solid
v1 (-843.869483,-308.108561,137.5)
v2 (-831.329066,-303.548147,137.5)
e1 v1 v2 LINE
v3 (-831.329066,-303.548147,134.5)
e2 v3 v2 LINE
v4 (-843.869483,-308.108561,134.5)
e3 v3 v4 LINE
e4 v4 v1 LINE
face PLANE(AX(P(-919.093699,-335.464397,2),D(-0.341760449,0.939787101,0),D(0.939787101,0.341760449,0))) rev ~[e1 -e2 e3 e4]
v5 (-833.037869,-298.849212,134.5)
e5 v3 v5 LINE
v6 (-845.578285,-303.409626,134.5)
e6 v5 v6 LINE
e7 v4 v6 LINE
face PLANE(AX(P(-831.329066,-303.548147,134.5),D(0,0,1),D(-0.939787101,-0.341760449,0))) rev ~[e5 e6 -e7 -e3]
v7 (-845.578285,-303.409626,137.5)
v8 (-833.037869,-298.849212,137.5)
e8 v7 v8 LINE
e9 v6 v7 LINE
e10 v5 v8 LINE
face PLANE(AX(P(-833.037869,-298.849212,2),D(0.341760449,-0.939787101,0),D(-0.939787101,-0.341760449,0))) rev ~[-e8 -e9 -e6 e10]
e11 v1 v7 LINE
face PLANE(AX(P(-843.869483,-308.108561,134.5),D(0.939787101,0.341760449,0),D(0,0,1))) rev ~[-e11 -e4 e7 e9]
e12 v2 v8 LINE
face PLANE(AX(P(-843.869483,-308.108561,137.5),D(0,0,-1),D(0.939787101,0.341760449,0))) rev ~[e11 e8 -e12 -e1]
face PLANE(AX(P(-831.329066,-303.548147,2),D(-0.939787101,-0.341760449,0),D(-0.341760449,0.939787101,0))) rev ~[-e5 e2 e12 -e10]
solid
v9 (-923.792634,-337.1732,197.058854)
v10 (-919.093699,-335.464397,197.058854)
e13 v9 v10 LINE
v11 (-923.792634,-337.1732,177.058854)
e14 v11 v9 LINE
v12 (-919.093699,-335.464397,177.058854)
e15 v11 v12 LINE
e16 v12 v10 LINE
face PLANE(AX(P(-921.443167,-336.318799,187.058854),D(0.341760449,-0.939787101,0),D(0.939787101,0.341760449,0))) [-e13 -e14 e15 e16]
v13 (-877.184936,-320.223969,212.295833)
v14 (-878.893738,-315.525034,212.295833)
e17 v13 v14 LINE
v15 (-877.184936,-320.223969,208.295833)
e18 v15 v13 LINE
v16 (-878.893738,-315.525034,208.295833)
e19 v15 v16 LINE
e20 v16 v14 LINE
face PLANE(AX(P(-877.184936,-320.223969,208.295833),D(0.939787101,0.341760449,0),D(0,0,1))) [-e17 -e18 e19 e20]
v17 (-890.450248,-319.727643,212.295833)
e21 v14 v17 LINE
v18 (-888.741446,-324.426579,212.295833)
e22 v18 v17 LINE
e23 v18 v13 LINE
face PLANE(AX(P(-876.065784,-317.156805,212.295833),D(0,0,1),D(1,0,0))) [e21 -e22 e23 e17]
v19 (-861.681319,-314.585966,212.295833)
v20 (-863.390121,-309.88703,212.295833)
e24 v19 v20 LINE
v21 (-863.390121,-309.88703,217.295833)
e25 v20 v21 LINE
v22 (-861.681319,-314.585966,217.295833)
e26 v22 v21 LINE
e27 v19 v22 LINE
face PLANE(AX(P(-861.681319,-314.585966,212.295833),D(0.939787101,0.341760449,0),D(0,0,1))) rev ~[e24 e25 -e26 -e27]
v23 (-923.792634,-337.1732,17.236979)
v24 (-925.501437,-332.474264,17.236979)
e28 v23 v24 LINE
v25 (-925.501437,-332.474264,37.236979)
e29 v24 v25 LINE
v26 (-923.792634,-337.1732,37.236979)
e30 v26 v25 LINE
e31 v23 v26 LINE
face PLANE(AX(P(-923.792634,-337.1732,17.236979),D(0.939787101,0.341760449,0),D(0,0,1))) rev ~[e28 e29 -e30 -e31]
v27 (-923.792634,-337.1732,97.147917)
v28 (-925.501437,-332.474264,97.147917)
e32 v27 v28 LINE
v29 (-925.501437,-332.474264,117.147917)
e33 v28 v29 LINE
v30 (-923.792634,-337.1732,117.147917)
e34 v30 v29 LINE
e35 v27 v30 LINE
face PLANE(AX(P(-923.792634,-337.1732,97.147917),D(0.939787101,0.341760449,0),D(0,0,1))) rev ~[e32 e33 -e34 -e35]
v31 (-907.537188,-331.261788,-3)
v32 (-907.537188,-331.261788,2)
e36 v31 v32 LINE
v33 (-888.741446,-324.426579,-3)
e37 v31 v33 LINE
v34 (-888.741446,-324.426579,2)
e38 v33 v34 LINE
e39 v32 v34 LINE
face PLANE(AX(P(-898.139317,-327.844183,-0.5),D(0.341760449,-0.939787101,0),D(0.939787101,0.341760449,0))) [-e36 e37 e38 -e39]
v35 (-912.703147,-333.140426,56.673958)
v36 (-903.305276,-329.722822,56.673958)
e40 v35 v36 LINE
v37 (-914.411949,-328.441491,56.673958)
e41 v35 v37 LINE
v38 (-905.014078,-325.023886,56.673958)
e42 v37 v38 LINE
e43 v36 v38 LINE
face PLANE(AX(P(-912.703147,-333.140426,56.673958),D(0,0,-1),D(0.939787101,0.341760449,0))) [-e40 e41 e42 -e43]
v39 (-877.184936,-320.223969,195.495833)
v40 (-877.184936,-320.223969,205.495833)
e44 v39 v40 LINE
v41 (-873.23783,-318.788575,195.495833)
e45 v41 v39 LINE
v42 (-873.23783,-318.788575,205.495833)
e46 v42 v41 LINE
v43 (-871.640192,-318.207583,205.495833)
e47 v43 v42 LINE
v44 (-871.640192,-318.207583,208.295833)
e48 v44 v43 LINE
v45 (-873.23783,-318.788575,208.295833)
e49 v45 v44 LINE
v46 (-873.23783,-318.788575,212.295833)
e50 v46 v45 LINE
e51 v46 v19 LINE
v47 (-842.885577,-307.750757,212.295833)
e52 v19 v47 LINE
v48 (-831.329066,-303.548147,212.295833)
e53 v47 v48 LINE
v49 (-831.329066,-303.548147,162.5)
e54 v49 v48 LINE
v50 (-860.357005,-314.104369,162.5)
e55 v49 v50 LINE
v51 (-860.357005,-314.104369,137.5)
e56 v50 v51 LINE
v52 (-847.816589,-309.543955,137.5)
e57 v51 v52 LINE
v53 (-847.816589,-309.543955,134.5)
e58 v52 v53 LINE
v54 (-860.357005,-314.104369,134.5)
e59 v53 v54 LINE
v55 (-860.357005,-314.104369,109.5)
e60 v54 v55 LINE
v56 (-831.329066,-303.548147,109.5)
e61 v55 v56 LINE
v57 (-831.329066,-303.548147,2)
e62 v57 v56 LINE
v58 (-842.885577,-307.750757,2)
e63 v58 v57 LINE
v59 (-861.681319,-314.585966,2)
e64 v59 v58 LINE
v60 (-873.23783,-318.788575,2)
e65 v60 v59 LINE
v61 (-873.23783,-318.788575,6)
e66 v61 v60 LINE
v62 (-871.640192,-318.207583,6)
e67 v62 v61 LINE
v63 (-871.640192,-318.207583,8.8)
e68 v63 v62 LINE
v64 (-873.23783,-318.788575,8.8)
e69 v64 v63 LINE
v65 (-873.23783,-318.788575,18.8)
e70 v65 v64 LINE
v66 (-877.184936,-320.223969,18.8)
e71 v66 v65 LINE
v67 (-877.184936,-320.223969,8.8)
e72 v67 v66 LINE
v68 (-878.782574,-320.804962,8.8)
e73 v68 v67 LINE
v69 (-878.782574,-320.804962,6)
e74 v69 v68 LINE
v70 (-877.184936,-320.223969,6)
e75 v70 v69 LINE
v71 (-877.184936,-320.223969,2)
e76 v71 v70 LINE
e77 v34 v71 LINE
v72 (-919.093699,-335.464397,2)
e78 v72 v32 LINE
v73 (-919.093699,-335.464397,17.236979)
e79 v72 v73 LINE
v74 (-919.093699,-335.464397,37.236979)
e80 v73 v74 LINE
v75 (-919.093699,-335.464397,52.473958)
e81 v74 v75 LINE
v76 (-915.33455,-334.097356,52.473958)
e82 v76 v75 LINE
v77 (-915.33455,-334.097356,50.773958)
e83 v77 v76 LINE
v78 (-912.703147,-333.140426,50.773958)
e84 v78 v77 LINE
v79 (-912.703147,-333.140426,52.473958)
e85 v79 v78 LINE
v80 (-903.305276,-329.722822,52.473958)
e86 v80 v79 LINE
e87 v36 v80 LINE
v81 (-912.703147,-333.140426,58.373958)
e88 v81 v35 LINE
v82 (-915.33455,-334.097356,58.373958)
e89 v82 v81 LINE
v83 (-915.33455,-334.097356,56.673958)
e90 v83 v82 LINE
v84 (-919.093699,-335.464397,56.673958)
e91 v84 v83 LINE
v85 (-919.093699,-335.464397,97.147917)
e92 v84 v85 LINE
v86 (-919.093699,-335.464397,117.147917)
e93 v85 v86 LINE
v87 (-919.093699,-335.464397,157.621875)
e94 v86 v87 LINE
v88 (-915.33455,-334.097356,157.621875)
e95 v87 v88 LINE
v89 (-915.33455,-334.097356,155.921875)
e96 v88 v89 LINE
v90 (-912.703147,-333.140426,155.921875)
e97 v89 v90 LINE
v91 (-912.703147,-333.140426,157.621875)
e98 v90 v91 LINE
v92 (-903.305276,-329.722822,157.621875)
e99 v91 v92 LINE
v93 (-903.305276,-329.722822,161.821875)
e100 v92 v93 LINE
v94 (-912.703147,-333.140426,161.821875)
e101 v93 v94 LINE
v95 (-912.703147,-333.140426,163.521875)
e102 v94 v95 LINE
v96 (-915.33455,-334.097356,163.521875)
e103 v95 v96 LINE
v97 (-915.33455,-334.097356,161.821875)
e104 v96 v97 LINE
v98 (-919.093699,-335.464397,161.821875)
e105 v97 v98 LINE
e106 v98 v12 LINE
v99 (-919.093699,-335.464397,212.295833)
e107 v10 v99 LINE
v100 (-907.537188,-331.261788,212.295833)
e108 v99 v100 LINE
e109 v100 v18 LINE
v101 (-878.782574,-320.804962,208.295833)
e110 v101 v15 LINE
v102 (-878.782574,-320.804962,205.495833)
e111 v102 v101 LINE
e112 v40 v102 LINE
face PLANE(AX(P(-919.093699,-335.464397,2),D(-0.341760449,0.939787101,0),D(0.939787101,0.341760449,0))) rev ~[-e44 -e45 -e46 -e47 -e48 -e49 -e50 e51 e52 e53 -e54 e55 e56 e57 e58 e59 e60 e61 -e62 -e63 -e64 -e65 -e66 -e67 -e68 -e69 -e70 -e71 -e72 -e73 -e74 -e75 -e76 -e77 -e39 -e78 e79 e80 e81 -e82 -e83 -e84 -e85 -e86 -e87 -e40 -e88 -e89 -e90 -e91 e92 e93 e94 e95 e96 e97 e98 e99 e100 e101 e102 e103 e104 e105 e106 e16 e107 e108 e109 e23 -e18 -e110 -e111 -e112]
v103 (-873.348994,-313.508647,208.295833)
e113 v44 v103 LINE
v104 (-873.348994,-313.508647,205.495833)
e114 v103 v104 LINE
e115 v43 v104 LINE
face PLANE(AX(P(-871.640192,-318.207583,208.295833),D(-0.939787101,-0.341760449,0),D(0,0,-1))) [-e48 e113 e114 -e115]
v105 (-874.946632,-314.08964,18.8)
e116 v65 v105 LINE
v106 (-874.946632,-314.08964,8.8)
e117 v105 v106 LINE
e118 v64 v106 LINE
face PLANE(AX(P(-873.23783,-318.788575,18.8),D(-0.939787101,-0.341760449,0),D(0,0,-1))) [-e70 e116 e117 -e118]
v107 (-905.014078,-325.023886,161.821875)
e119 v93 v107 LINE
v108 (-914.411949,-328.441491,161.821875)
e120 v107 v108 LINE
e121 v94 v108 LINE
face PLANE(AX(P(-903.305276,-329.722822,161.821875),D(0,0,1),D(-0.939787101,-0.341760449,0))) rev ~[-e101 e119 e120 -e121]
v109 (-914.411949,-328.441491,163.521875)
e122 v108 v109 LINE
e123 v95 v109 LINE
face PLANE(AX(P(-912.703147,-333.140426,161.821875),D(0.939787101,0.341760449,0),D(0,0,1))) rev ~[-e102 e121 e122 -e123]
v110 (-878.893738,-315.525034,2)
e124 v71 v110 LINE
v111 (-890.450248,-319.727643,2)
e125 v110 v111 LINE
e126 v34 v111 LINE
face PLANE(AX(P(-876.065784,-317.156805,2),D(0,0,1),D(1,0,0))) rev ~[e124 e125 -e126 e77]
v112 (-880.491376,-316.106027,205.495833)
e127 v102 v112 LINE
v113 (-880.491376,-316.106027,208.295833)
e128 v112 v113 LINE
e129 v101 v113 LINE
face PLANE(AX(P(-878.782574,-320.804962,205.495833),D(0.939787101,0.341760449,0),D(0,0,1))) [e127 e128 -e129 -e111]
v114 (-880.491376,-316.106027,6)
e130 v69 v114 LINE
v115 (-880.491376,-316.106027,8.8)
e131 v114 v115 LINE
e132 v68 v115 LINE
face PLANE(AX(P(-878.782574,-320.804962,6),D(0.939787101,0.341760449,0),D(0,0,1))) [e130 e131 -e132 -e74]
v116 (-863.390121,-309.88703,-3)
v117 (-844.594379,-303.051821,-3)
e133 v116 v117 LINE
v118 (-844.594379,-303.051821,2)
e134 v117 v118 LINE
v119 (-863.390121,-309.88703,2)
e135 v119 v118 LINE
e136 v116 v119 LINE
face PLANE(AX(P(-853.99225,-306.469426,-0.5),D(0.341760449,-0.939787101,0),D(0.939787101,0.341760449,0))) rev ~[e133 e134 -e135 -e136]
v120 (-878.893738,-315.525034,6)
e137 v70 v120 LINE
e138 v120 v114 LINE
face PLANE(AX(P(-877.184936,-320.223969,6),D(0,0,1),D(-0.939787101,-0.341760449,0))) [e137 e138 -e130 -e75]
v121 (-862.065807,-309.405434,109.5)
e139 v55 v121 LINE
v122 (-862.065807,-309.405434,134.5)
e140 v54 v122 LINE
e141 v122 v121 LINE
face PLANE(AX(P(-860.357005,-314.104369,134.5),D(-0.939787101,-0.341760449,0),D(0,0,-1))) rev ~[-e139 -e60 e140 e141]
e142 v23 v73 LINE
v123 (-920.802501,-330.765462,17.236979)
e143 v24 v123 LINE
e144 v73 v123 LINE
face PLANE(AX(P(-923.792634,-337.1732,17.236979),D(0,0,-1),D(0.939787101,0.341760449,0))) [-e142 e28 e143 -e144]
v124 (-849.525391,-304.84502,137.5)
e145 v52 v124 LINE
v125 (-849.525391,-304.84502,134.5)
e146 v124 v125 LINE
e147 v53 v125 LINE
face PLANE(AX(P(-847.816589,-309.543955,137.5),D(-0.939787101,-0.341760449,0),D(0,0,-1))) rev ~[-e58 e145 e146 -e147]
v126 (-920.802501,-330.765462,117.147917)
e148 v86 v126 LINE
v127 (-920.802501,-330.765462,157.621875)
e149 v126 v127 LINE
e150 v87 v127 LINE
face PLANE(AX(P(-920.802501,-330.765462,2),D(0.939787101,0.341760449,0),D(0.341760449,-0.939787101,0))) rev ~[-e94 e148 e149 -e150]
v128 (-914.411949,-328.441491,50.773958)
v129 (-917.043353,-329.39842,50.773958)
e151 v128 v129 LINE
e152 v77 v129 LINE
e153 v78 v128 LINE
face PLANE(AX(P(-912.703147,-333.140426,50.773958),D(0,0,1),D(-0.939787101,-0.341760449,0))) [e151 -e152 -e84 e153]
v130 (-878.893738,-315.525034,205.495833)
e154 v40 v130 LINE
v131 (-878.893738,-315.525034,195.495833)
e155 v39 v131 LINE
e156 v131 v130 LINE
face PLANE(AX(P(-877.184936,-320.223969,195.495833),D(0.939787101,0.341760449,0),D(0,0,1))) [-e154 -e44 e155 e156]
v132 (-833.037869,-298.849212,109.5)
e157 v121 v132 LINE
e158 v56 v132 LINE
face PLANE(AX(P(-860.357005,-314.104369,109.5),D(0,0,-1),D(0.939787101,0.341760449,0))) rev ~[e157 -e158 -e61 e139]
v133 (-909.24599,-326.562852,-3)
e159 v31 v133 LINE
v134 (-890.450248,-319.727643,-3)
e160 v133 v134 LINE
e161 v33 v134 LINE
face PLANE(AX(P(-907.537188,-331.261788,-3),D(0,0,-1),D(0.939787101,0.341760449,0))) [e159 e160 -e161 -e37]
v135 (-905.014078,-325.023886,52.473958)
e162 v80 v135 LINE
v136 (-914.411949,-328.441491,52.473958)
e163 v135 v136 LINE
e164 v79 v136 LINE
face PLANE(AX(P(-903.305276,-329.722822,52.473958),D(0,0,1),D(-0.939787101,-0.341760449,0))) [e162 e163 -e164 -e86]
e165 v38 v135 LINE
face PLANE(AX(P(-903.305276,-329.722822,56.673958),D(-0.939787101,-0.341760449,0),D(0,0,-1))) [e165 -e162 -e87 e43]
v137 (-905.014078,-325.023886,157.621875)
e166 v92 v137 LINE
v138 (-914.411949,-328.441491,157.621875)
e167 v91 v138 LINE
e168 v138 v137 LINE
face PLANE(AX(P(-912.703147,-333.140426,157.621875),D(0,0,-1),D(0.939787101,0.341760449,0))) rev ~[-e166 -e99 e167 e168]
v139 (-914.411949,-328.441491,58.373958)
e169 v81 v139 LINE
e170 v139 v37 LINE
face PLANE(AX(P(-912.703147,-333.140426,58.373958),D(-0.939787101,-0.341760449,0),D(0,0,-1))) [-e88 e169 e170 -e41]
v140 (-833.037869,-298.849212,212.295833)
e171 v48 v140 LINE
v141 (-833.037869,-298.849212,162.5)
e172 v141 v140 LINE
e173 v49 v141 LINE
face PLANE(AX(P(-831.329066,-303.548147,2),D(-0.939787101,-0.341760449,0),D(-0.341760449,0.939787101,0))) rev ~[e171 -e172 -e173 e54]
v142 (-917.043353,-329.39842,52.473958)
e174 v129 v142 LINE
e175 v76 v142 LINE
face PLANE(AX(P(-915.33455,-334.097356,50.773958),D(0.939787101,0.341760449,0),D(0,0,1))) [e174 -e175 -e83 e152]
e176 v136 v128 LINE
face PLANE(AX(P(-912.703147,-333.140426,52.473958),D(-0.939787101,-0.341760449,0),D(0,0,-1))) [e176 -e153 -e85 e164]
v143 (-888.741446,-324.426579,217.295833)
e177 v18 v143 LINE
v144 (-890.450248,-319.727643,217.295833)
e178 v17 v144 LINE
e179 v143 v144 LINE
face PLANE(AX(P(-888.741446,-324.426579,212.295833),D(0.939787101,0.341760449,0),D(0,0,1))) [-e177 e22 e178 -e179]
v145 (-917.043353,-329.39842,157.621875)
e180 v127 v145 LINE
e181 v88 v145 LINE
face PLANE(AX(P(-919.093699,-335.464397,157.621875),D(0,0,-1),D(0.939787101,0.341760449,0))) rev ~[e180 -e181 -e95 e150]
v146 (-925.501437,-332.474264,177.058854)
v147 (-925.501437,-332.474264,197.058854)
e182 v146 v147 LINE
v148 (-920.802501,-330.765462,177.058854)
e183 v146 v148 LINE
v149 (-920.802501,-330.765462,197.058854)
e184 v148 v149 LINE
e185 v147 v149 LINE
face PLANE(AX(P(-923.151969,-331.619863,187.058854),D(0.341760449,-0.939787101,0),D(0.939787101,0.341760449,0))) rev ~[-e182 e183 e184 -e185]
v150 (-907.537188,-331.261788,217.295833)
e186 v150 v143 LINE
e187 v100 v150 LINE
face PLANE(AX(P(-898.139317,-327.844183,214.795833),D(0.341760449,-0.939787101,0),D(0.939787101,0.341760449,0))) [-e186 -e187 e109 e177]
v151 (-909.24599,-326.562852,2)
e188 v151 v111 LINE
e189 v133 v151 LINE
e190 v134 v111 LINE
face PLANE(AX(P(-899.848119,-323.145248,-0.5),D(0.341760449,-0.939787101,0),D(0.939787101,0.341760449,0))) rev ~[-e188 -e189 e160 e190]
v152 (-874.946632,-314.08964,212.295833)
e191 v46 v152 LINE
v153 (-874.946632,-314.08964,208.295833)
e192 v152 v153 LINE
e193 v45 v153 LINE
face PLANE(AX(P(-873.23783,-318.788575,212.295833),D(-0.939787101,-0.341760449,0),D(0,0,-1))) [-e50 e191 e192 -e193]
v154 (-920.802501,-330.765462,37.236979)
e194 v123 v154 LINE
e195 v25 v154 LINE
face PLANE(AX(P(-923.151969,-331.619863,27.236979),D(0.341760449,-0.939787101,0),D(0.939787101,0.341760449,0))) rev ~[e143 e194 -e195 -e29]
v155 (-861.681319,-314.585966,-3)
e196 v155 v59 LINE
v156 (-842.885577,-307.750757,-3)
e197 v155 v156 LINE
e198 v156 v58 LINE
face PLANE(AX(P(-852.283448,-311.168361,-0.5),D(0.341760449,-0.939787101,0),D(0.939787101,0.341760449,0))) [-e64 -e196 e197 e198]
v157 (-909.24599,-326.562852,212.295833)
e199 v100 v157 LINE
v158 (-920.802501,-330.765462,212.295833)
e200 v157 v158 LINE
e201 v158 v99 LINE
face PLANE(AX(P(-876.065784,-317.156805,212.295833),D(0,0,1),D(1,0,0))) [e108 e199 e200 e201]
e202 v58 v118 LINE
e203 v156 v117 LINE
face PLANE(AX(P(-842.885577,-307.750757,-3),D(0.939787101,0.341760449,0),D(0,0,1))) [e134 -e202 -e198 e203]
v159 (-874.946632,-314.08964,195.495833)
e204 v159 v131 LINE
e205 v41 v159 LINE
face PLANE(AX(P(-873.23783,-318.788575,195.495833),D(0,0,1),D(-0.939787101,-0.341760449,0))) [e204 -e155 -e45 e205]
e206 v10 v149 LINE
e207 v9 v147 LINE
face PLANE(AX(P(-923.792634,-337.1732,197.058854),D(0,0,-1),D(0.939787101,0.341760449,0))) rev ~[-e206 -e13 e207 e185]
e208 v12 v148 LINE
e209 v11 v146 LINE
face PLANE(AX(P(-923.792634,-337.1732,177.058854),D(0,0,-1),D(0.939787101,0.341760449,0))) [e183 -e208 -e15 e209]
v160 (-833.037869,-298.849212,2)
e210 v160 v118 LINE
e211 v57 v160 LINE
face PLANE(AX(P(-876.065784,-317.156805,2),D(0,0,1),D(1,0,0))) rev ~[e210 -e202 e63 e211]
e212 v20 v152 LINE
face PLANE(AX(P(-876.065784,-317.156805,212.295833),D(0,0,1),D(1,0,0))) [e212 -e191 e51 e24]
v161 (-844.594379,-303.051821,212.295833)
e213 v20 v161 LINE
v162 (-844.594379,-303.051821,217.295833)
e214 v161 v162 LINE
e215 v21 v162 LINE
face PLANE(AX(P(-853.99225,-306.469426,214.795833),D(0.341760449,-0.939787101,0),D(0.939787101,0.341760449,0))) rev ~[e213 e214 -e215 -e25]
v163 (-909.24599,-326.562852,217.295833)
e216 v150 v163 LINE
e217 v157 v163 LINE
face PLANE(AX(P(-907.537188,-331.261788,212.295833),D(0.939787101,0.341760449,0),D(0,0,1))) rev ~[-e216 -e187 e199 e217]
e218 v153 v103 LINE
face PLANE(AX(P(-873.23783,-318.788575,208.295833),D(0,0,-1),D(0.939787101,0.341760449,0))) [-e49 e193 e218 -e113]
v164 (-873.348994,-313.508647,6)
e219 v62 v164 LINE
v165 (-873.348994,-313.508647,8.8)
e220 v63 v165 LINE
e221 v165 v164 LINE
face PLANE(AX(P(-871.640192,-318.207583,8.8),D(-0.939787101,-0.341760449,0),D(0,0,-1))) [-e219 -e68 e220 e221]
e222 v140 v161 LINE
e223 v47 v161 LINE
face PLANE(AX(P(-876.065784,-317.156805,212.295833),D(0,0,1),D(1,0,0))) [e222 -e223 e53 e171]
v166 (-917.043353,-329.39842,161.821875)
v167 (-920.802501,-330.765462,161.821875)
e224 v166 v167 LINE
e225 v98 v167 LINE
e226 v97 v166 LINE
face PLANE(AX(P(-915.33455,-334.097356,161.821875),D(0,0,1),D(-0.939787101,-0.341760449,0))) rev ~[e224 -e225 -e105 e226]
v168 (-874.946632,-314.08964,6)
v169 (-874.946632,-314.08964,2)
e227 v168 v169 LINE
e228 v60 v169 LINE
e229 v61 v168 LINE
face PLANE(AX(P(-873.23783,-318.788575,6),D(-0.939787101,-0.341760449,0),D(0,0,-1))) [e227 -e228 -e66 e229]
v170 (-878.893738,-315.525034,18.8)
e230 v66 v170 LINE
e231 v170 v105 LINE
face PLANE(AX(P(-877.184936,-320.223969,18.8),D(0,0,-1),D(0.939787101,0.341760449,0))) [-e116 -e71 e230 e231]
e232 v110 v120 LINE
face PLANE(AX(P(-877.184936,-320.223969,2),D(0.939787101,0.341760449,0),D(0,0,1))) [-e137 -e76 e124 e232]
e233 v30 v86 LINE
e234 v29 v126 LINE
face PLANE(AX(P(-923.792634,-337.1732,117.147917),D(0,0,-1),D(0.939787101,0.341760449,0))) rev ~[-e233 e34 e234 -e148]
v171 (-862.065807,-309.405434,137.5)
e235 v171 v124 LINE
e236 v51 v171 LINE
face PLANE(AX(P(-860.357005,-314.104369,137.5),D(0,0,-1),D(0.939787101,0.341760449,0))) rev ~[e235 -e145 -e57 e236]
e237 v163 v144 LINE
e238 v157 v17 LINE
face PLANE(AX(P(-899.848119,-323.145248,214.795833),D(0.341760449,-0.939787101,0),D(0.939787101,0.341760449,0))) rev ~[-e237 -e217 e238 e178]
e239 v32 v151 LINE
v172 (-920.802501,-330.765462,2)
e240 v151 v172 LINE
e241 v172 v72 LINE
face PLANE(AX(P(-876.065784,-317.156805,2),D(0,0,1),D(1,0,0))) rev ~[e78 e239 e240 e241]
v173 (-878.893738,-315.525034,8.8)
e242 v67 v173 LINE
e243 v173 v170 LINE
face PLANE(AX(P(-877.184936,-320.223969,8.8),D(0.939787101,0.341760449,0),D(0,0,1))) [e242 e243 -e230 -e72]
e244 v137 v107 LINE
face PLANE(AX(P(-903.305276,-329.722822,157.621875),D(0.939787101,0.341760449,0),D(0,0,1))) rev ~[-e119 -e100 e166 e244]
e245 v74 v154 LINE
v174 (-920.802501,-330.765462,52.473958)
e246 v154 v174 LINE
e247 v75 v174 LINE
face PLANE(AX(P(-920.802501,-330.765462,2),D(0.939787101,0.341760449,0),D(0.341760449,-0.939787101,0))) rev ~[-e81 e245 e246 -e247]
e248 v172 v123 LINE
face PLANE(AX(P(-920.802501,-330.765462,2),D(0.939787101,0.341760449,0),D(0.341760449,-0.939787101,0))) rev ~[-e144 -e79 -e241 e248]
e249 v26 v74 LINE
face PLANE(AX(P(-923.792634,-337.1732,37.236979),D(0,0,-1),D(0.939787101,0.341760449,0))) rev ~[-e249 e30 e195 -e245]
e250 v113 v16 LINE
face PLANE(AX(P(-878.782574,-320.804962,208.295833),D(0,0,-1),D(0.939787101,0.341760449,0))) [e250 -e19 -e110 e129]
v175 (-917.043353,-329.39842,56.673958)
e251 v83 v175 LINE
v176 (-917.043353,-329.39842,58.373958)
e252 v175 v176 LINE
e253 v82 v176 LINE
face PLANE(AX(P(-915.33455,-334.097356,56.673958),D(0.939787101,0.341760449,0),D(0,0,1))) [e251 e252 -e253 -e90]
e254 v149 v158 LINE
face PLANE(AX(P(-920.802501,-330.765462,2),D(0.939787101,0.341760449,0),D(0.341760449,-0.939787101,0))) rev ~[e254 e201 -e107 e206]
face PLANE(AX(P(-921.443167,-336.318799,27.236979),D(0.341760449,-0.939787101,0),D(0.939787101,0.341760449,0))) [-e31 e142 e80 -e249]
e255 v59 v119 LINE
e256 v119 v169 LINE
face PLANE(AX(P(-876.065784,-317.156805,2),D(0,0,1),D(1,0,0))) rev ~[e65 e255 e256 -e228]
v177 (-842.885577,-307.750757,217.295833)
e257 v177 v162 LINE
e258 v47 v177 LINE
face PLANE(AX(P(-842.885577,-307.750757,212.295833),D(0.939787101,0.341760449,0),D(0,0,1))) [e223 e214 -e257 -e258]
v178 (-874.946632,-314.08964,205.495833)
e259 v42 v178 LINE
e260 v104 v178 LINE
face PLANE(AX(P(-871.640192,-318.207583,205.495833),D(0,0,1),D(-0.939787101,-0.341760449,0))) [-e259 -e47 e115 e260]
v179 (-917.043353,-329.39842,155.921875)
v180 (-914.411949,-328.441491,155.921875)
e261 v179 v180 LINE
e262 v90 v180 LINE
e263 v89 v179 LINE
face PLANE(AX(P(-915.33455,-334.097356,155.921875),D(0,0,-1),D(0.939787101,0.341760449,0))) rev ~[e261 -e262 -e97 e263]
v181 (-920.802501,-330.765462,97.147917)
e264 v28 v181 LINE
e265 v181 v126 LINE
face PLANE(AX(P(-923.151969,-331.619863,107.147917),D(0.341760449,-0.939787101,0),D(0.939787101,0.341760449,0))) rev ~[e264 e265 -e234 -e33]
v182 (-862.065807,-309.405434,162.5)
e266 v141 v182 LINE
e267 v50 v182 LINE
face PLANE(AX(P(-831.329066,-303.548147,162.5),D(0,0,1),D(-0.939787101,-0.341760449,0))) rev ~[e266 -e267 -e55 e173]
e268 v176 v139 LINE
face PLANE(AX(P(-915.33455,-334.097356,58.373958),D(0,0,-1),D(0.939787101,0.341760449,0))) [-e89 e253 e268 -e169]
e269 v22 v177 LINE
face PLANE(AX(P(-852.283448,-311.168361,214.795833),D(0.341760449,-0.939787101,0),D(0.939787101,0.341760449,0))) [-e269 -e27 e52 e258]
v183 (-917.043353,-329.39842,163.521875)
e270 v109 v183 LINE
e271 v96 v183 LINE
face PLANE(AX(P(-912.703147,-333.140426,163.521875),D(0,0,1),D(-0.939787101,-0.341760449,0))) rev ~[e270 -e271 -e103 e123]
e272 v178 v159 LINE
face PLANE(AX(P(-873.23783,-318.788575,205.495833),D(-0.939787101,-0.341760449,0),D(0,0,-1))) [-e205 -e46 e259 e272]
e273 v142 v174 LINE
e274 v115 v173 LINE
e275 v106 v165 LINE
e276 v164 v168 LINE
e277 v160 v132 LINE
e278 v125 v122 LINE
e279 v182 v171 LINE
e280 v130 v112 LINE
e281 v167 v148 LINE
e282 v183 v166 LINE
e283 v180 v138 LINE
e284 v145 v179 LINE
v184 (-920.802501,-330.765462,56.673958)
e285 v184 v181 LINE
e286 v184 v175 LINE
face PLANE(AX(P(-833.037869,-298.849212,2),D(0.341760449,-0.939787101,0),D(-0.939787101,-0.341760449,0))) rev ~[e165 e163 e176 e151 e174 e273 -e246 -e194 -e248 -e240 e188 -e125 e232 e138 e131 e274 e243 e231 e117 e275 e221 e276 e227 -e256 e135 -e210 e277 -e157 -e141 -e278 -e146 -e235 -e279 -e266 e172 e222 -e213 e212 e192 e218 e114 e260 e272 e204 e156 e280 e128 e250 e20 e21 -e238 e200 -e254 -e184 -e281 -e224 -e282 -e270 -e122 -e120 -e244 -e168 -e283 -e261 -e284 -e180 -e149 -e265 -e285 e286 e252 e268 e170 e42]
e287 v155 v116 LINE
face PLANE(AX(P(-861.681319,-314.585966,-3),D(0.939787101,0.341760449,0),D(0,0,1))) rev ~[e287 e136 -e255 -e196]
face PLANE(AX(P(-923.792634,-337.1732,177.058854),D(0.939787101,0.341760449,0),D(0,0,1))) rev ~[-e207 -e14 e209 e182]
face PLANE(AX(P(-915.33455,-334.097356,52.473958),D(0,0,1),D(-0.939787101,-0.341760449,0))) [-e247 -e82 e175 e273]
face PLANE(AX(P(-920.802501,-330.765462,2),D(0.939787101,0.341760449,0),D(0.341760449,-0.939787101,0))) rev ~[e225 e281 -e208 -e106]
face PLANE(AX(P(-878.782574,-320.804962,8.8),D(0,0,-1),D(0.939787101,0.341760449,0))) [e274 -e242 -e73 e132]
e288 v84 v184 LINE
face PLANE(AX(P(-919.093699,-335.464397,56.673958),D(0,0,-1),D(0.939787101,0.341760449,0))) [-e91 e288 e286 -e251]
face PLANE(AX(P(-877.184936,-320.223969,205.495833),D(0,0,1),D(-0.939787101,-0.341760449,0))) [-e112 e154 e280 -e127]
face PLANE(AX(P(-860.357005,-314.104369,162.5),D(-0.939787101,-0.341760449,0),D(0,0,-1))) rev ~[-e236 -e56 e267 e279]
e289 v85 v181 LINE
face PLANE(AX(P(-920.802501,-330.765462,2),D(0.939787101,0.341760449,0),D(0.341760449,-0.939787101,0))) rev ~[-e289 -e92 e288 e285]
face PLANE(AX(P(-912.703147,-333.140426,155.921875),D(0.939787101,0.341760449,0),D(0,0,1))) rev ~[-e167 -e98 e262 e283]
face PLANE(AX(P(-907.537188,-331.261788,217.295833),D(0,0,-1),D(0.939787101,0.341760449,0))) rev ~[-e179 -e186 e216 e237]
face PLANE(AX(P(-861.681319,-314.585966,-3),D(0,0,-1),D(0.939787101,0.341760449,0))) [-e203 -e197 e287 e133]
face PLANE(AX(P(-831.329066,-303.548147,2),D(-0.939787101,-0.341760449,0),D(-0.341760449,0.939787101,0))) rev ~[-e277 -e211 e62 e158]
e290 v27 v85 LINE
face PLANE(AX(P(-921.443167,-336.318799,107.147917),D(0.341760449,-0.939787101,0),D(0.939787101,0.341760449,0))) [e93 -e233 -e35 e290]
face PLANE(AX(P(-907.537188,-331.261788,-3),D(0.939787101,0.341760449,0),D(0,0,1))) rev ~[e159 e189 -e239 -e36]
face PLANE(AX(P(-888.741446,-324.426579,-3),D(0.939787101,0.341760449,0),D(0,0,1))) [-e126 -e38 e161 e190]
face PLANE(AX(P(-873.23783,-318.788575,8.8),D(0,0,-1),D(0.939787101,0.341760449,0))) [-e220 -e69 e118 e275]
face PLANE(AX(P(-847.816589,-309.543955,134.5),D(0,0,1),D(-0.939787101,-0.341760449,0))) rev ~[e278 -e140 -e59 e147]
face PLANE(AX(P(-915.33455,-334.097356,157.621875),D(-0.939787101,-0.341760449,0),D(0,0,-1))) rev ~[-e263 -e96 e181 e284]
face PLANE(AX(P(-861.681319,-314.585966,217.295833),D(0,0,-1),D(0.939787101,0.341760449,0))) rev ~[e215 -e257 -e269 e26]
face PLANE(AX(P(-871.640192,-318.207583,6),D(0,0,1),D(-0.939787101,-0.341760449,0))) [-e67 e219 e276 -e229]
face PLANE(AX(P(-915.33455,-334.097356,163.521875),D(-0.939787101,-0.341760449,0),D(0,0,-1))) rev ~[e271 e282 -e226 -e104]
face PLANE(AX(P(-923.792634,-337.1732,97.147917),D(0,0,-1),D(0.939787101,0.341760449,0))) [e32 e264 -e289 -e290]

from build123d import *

# Parameters (mm, degrees)
BOSS_EXTRUDE1_DEPTH = 210.295833
CUT_EXTRUDE3_DEPTH  = 35.994480169
SKETCH5_W           = 20
SKETCH5_H           = 5
SKETCH5_W_2         = 5
SKETCH5_H_2         = 20
BOSS_EXTRUDE2_DEPTH = 5


with BuildPart() as part:
    # Sketch2 → Boss-Extrude1 (new body)
    with BuildSketch(Plane.XY.offset(2)):
        Polygon((-920.802501065, -330.765461908), (-919.09369882, -335.464397413), (-831.329066449, -303.548147303), (-833.037868694, -298.849211798), align=None)
    extrude(amount=BOSS_EXTRUDE1_DEPTH)

    # Sketch4 → Cut-Extrude3 (cut, through all)
    with BuildSketch(Plane(origin=(0.394814779, -1.085678105, 0), x_dir=(-0.939787101, -0.341760449, 0), z_dir=(0.341760449, -0.939787101, 0))):
        Polygon((929.606975284, -2), (933.806975284, -2), (933.806975284, -6), (935.506975284, -6), (935.506975284, -8.8), (933.806975284, -8.8), (933.806975284, -18.8), (929.606975284, -18.8), (929.606975284, -8.8), (927.906975284, -8.8), (927.906975284, -6), (929.606975284, -6), align=None)
        Polygon((978.400865988, -52.473958269), (978.400865988, -56.673958269), (974.400865988, -56.673958269), (974.400865988, -58.373958269), (971.600865988, -58.373958269), (971.600865988, -56.673958269), (961.600865988, -56.673958269), (961.600865988, -52.473958269), (971.600865988, -52.473958269), (971.600865988, -50.773958269), (974.400865988, -50.773958269), (974.400865988, -52.473958269), align=None)
        Polygon((933.806975284, -212.295833075), (929.606975284, -212.295833075), (929.606975284, -208.295833075), (927.906975284, -208.295833075), (927.906975284, -205.495833075), (929.606975284, -205.495833075), (929.606975284, -195.495833075), (933.806975284, -195.495833075), (933.806975284, -205.495833075), (935.506975284, -205.495833075), (935.506975284, -208.295833075), (933.806975284, -208.295833075), align=None)
        Polygon((974.400865988, -157.621874806), (974.400865988, -155.921874806), (971.600865988, -155.921874806), (971.600865988, -157.621874806), (961.600865988, -157.621874806), (961.600865988, -161.821874806), (971.600865988, -161.821874806), (971.600865988, -163.521874806), (974.400865988, -163.521874806), (974.400865988, -161.821874806), (978.400865988, -161.821874806), (978.400865988, -157.621874806), align=None)
        Polygon((885.01308458, -134.5), (898.356975284, -134.5), (898.356975284, -137.5), (885.01308458, -137.5), (885.01308458, -162.5), (915.900865988, -162.5), (915.900865988, -137.5), (902.556975284, -137.5), (902.556975284, -134.5), (915.900865988, -134.5), (915.900865988, -109.5), (885.01308458, -109.5), align=None)
    extrude(amount=-CUT_EXTRUDE3_DEPTH, mode=Mode.SUBTRACT)

    # Sketch5 → Boss-Extrude2 (add)
    with BuildSketch(Plane(origin=(0.394814779, -1.085678105, 0), x_dir=(0.939787101, 0.341760449, 0), z_dir=(0.341760449, -0.939787101, 0))):
        with Locations((-956.103920636, 214.795833075)):
            Rectangle(SKETCH5_W, SKETCH5_H)
        with Locations((-907.310029932, 214.795833075)):
            Rectangle(SKETCH5_W, SKETCH5_H)
        with Locations((-980.900865988, 187.058853941)):
            Rectangle(SKETCH5_W_2, SKETCH5_H_2)
        with Locations((-980.900865988, 107.147916538)):
            Rectangle(SKETCH5_W_2, SKETCH5_H_2)
        with Locations((-980.900865988, 27.236979134)):
            Rectangle(SKETCH5_W_2, SKETCH5_H_2)
        with Locations((-956.103920636, -0.5)):
            Rectangle(SKETCH5_W, SKETCH5_H)
        with Locations((-907.310029932, -0.5)):
            Rectangle(SKETCH5_W, SKETCH5_H)
    extrude(amount=-BOSS_EXTRUDE2_DEPTH)


solid = part.part
